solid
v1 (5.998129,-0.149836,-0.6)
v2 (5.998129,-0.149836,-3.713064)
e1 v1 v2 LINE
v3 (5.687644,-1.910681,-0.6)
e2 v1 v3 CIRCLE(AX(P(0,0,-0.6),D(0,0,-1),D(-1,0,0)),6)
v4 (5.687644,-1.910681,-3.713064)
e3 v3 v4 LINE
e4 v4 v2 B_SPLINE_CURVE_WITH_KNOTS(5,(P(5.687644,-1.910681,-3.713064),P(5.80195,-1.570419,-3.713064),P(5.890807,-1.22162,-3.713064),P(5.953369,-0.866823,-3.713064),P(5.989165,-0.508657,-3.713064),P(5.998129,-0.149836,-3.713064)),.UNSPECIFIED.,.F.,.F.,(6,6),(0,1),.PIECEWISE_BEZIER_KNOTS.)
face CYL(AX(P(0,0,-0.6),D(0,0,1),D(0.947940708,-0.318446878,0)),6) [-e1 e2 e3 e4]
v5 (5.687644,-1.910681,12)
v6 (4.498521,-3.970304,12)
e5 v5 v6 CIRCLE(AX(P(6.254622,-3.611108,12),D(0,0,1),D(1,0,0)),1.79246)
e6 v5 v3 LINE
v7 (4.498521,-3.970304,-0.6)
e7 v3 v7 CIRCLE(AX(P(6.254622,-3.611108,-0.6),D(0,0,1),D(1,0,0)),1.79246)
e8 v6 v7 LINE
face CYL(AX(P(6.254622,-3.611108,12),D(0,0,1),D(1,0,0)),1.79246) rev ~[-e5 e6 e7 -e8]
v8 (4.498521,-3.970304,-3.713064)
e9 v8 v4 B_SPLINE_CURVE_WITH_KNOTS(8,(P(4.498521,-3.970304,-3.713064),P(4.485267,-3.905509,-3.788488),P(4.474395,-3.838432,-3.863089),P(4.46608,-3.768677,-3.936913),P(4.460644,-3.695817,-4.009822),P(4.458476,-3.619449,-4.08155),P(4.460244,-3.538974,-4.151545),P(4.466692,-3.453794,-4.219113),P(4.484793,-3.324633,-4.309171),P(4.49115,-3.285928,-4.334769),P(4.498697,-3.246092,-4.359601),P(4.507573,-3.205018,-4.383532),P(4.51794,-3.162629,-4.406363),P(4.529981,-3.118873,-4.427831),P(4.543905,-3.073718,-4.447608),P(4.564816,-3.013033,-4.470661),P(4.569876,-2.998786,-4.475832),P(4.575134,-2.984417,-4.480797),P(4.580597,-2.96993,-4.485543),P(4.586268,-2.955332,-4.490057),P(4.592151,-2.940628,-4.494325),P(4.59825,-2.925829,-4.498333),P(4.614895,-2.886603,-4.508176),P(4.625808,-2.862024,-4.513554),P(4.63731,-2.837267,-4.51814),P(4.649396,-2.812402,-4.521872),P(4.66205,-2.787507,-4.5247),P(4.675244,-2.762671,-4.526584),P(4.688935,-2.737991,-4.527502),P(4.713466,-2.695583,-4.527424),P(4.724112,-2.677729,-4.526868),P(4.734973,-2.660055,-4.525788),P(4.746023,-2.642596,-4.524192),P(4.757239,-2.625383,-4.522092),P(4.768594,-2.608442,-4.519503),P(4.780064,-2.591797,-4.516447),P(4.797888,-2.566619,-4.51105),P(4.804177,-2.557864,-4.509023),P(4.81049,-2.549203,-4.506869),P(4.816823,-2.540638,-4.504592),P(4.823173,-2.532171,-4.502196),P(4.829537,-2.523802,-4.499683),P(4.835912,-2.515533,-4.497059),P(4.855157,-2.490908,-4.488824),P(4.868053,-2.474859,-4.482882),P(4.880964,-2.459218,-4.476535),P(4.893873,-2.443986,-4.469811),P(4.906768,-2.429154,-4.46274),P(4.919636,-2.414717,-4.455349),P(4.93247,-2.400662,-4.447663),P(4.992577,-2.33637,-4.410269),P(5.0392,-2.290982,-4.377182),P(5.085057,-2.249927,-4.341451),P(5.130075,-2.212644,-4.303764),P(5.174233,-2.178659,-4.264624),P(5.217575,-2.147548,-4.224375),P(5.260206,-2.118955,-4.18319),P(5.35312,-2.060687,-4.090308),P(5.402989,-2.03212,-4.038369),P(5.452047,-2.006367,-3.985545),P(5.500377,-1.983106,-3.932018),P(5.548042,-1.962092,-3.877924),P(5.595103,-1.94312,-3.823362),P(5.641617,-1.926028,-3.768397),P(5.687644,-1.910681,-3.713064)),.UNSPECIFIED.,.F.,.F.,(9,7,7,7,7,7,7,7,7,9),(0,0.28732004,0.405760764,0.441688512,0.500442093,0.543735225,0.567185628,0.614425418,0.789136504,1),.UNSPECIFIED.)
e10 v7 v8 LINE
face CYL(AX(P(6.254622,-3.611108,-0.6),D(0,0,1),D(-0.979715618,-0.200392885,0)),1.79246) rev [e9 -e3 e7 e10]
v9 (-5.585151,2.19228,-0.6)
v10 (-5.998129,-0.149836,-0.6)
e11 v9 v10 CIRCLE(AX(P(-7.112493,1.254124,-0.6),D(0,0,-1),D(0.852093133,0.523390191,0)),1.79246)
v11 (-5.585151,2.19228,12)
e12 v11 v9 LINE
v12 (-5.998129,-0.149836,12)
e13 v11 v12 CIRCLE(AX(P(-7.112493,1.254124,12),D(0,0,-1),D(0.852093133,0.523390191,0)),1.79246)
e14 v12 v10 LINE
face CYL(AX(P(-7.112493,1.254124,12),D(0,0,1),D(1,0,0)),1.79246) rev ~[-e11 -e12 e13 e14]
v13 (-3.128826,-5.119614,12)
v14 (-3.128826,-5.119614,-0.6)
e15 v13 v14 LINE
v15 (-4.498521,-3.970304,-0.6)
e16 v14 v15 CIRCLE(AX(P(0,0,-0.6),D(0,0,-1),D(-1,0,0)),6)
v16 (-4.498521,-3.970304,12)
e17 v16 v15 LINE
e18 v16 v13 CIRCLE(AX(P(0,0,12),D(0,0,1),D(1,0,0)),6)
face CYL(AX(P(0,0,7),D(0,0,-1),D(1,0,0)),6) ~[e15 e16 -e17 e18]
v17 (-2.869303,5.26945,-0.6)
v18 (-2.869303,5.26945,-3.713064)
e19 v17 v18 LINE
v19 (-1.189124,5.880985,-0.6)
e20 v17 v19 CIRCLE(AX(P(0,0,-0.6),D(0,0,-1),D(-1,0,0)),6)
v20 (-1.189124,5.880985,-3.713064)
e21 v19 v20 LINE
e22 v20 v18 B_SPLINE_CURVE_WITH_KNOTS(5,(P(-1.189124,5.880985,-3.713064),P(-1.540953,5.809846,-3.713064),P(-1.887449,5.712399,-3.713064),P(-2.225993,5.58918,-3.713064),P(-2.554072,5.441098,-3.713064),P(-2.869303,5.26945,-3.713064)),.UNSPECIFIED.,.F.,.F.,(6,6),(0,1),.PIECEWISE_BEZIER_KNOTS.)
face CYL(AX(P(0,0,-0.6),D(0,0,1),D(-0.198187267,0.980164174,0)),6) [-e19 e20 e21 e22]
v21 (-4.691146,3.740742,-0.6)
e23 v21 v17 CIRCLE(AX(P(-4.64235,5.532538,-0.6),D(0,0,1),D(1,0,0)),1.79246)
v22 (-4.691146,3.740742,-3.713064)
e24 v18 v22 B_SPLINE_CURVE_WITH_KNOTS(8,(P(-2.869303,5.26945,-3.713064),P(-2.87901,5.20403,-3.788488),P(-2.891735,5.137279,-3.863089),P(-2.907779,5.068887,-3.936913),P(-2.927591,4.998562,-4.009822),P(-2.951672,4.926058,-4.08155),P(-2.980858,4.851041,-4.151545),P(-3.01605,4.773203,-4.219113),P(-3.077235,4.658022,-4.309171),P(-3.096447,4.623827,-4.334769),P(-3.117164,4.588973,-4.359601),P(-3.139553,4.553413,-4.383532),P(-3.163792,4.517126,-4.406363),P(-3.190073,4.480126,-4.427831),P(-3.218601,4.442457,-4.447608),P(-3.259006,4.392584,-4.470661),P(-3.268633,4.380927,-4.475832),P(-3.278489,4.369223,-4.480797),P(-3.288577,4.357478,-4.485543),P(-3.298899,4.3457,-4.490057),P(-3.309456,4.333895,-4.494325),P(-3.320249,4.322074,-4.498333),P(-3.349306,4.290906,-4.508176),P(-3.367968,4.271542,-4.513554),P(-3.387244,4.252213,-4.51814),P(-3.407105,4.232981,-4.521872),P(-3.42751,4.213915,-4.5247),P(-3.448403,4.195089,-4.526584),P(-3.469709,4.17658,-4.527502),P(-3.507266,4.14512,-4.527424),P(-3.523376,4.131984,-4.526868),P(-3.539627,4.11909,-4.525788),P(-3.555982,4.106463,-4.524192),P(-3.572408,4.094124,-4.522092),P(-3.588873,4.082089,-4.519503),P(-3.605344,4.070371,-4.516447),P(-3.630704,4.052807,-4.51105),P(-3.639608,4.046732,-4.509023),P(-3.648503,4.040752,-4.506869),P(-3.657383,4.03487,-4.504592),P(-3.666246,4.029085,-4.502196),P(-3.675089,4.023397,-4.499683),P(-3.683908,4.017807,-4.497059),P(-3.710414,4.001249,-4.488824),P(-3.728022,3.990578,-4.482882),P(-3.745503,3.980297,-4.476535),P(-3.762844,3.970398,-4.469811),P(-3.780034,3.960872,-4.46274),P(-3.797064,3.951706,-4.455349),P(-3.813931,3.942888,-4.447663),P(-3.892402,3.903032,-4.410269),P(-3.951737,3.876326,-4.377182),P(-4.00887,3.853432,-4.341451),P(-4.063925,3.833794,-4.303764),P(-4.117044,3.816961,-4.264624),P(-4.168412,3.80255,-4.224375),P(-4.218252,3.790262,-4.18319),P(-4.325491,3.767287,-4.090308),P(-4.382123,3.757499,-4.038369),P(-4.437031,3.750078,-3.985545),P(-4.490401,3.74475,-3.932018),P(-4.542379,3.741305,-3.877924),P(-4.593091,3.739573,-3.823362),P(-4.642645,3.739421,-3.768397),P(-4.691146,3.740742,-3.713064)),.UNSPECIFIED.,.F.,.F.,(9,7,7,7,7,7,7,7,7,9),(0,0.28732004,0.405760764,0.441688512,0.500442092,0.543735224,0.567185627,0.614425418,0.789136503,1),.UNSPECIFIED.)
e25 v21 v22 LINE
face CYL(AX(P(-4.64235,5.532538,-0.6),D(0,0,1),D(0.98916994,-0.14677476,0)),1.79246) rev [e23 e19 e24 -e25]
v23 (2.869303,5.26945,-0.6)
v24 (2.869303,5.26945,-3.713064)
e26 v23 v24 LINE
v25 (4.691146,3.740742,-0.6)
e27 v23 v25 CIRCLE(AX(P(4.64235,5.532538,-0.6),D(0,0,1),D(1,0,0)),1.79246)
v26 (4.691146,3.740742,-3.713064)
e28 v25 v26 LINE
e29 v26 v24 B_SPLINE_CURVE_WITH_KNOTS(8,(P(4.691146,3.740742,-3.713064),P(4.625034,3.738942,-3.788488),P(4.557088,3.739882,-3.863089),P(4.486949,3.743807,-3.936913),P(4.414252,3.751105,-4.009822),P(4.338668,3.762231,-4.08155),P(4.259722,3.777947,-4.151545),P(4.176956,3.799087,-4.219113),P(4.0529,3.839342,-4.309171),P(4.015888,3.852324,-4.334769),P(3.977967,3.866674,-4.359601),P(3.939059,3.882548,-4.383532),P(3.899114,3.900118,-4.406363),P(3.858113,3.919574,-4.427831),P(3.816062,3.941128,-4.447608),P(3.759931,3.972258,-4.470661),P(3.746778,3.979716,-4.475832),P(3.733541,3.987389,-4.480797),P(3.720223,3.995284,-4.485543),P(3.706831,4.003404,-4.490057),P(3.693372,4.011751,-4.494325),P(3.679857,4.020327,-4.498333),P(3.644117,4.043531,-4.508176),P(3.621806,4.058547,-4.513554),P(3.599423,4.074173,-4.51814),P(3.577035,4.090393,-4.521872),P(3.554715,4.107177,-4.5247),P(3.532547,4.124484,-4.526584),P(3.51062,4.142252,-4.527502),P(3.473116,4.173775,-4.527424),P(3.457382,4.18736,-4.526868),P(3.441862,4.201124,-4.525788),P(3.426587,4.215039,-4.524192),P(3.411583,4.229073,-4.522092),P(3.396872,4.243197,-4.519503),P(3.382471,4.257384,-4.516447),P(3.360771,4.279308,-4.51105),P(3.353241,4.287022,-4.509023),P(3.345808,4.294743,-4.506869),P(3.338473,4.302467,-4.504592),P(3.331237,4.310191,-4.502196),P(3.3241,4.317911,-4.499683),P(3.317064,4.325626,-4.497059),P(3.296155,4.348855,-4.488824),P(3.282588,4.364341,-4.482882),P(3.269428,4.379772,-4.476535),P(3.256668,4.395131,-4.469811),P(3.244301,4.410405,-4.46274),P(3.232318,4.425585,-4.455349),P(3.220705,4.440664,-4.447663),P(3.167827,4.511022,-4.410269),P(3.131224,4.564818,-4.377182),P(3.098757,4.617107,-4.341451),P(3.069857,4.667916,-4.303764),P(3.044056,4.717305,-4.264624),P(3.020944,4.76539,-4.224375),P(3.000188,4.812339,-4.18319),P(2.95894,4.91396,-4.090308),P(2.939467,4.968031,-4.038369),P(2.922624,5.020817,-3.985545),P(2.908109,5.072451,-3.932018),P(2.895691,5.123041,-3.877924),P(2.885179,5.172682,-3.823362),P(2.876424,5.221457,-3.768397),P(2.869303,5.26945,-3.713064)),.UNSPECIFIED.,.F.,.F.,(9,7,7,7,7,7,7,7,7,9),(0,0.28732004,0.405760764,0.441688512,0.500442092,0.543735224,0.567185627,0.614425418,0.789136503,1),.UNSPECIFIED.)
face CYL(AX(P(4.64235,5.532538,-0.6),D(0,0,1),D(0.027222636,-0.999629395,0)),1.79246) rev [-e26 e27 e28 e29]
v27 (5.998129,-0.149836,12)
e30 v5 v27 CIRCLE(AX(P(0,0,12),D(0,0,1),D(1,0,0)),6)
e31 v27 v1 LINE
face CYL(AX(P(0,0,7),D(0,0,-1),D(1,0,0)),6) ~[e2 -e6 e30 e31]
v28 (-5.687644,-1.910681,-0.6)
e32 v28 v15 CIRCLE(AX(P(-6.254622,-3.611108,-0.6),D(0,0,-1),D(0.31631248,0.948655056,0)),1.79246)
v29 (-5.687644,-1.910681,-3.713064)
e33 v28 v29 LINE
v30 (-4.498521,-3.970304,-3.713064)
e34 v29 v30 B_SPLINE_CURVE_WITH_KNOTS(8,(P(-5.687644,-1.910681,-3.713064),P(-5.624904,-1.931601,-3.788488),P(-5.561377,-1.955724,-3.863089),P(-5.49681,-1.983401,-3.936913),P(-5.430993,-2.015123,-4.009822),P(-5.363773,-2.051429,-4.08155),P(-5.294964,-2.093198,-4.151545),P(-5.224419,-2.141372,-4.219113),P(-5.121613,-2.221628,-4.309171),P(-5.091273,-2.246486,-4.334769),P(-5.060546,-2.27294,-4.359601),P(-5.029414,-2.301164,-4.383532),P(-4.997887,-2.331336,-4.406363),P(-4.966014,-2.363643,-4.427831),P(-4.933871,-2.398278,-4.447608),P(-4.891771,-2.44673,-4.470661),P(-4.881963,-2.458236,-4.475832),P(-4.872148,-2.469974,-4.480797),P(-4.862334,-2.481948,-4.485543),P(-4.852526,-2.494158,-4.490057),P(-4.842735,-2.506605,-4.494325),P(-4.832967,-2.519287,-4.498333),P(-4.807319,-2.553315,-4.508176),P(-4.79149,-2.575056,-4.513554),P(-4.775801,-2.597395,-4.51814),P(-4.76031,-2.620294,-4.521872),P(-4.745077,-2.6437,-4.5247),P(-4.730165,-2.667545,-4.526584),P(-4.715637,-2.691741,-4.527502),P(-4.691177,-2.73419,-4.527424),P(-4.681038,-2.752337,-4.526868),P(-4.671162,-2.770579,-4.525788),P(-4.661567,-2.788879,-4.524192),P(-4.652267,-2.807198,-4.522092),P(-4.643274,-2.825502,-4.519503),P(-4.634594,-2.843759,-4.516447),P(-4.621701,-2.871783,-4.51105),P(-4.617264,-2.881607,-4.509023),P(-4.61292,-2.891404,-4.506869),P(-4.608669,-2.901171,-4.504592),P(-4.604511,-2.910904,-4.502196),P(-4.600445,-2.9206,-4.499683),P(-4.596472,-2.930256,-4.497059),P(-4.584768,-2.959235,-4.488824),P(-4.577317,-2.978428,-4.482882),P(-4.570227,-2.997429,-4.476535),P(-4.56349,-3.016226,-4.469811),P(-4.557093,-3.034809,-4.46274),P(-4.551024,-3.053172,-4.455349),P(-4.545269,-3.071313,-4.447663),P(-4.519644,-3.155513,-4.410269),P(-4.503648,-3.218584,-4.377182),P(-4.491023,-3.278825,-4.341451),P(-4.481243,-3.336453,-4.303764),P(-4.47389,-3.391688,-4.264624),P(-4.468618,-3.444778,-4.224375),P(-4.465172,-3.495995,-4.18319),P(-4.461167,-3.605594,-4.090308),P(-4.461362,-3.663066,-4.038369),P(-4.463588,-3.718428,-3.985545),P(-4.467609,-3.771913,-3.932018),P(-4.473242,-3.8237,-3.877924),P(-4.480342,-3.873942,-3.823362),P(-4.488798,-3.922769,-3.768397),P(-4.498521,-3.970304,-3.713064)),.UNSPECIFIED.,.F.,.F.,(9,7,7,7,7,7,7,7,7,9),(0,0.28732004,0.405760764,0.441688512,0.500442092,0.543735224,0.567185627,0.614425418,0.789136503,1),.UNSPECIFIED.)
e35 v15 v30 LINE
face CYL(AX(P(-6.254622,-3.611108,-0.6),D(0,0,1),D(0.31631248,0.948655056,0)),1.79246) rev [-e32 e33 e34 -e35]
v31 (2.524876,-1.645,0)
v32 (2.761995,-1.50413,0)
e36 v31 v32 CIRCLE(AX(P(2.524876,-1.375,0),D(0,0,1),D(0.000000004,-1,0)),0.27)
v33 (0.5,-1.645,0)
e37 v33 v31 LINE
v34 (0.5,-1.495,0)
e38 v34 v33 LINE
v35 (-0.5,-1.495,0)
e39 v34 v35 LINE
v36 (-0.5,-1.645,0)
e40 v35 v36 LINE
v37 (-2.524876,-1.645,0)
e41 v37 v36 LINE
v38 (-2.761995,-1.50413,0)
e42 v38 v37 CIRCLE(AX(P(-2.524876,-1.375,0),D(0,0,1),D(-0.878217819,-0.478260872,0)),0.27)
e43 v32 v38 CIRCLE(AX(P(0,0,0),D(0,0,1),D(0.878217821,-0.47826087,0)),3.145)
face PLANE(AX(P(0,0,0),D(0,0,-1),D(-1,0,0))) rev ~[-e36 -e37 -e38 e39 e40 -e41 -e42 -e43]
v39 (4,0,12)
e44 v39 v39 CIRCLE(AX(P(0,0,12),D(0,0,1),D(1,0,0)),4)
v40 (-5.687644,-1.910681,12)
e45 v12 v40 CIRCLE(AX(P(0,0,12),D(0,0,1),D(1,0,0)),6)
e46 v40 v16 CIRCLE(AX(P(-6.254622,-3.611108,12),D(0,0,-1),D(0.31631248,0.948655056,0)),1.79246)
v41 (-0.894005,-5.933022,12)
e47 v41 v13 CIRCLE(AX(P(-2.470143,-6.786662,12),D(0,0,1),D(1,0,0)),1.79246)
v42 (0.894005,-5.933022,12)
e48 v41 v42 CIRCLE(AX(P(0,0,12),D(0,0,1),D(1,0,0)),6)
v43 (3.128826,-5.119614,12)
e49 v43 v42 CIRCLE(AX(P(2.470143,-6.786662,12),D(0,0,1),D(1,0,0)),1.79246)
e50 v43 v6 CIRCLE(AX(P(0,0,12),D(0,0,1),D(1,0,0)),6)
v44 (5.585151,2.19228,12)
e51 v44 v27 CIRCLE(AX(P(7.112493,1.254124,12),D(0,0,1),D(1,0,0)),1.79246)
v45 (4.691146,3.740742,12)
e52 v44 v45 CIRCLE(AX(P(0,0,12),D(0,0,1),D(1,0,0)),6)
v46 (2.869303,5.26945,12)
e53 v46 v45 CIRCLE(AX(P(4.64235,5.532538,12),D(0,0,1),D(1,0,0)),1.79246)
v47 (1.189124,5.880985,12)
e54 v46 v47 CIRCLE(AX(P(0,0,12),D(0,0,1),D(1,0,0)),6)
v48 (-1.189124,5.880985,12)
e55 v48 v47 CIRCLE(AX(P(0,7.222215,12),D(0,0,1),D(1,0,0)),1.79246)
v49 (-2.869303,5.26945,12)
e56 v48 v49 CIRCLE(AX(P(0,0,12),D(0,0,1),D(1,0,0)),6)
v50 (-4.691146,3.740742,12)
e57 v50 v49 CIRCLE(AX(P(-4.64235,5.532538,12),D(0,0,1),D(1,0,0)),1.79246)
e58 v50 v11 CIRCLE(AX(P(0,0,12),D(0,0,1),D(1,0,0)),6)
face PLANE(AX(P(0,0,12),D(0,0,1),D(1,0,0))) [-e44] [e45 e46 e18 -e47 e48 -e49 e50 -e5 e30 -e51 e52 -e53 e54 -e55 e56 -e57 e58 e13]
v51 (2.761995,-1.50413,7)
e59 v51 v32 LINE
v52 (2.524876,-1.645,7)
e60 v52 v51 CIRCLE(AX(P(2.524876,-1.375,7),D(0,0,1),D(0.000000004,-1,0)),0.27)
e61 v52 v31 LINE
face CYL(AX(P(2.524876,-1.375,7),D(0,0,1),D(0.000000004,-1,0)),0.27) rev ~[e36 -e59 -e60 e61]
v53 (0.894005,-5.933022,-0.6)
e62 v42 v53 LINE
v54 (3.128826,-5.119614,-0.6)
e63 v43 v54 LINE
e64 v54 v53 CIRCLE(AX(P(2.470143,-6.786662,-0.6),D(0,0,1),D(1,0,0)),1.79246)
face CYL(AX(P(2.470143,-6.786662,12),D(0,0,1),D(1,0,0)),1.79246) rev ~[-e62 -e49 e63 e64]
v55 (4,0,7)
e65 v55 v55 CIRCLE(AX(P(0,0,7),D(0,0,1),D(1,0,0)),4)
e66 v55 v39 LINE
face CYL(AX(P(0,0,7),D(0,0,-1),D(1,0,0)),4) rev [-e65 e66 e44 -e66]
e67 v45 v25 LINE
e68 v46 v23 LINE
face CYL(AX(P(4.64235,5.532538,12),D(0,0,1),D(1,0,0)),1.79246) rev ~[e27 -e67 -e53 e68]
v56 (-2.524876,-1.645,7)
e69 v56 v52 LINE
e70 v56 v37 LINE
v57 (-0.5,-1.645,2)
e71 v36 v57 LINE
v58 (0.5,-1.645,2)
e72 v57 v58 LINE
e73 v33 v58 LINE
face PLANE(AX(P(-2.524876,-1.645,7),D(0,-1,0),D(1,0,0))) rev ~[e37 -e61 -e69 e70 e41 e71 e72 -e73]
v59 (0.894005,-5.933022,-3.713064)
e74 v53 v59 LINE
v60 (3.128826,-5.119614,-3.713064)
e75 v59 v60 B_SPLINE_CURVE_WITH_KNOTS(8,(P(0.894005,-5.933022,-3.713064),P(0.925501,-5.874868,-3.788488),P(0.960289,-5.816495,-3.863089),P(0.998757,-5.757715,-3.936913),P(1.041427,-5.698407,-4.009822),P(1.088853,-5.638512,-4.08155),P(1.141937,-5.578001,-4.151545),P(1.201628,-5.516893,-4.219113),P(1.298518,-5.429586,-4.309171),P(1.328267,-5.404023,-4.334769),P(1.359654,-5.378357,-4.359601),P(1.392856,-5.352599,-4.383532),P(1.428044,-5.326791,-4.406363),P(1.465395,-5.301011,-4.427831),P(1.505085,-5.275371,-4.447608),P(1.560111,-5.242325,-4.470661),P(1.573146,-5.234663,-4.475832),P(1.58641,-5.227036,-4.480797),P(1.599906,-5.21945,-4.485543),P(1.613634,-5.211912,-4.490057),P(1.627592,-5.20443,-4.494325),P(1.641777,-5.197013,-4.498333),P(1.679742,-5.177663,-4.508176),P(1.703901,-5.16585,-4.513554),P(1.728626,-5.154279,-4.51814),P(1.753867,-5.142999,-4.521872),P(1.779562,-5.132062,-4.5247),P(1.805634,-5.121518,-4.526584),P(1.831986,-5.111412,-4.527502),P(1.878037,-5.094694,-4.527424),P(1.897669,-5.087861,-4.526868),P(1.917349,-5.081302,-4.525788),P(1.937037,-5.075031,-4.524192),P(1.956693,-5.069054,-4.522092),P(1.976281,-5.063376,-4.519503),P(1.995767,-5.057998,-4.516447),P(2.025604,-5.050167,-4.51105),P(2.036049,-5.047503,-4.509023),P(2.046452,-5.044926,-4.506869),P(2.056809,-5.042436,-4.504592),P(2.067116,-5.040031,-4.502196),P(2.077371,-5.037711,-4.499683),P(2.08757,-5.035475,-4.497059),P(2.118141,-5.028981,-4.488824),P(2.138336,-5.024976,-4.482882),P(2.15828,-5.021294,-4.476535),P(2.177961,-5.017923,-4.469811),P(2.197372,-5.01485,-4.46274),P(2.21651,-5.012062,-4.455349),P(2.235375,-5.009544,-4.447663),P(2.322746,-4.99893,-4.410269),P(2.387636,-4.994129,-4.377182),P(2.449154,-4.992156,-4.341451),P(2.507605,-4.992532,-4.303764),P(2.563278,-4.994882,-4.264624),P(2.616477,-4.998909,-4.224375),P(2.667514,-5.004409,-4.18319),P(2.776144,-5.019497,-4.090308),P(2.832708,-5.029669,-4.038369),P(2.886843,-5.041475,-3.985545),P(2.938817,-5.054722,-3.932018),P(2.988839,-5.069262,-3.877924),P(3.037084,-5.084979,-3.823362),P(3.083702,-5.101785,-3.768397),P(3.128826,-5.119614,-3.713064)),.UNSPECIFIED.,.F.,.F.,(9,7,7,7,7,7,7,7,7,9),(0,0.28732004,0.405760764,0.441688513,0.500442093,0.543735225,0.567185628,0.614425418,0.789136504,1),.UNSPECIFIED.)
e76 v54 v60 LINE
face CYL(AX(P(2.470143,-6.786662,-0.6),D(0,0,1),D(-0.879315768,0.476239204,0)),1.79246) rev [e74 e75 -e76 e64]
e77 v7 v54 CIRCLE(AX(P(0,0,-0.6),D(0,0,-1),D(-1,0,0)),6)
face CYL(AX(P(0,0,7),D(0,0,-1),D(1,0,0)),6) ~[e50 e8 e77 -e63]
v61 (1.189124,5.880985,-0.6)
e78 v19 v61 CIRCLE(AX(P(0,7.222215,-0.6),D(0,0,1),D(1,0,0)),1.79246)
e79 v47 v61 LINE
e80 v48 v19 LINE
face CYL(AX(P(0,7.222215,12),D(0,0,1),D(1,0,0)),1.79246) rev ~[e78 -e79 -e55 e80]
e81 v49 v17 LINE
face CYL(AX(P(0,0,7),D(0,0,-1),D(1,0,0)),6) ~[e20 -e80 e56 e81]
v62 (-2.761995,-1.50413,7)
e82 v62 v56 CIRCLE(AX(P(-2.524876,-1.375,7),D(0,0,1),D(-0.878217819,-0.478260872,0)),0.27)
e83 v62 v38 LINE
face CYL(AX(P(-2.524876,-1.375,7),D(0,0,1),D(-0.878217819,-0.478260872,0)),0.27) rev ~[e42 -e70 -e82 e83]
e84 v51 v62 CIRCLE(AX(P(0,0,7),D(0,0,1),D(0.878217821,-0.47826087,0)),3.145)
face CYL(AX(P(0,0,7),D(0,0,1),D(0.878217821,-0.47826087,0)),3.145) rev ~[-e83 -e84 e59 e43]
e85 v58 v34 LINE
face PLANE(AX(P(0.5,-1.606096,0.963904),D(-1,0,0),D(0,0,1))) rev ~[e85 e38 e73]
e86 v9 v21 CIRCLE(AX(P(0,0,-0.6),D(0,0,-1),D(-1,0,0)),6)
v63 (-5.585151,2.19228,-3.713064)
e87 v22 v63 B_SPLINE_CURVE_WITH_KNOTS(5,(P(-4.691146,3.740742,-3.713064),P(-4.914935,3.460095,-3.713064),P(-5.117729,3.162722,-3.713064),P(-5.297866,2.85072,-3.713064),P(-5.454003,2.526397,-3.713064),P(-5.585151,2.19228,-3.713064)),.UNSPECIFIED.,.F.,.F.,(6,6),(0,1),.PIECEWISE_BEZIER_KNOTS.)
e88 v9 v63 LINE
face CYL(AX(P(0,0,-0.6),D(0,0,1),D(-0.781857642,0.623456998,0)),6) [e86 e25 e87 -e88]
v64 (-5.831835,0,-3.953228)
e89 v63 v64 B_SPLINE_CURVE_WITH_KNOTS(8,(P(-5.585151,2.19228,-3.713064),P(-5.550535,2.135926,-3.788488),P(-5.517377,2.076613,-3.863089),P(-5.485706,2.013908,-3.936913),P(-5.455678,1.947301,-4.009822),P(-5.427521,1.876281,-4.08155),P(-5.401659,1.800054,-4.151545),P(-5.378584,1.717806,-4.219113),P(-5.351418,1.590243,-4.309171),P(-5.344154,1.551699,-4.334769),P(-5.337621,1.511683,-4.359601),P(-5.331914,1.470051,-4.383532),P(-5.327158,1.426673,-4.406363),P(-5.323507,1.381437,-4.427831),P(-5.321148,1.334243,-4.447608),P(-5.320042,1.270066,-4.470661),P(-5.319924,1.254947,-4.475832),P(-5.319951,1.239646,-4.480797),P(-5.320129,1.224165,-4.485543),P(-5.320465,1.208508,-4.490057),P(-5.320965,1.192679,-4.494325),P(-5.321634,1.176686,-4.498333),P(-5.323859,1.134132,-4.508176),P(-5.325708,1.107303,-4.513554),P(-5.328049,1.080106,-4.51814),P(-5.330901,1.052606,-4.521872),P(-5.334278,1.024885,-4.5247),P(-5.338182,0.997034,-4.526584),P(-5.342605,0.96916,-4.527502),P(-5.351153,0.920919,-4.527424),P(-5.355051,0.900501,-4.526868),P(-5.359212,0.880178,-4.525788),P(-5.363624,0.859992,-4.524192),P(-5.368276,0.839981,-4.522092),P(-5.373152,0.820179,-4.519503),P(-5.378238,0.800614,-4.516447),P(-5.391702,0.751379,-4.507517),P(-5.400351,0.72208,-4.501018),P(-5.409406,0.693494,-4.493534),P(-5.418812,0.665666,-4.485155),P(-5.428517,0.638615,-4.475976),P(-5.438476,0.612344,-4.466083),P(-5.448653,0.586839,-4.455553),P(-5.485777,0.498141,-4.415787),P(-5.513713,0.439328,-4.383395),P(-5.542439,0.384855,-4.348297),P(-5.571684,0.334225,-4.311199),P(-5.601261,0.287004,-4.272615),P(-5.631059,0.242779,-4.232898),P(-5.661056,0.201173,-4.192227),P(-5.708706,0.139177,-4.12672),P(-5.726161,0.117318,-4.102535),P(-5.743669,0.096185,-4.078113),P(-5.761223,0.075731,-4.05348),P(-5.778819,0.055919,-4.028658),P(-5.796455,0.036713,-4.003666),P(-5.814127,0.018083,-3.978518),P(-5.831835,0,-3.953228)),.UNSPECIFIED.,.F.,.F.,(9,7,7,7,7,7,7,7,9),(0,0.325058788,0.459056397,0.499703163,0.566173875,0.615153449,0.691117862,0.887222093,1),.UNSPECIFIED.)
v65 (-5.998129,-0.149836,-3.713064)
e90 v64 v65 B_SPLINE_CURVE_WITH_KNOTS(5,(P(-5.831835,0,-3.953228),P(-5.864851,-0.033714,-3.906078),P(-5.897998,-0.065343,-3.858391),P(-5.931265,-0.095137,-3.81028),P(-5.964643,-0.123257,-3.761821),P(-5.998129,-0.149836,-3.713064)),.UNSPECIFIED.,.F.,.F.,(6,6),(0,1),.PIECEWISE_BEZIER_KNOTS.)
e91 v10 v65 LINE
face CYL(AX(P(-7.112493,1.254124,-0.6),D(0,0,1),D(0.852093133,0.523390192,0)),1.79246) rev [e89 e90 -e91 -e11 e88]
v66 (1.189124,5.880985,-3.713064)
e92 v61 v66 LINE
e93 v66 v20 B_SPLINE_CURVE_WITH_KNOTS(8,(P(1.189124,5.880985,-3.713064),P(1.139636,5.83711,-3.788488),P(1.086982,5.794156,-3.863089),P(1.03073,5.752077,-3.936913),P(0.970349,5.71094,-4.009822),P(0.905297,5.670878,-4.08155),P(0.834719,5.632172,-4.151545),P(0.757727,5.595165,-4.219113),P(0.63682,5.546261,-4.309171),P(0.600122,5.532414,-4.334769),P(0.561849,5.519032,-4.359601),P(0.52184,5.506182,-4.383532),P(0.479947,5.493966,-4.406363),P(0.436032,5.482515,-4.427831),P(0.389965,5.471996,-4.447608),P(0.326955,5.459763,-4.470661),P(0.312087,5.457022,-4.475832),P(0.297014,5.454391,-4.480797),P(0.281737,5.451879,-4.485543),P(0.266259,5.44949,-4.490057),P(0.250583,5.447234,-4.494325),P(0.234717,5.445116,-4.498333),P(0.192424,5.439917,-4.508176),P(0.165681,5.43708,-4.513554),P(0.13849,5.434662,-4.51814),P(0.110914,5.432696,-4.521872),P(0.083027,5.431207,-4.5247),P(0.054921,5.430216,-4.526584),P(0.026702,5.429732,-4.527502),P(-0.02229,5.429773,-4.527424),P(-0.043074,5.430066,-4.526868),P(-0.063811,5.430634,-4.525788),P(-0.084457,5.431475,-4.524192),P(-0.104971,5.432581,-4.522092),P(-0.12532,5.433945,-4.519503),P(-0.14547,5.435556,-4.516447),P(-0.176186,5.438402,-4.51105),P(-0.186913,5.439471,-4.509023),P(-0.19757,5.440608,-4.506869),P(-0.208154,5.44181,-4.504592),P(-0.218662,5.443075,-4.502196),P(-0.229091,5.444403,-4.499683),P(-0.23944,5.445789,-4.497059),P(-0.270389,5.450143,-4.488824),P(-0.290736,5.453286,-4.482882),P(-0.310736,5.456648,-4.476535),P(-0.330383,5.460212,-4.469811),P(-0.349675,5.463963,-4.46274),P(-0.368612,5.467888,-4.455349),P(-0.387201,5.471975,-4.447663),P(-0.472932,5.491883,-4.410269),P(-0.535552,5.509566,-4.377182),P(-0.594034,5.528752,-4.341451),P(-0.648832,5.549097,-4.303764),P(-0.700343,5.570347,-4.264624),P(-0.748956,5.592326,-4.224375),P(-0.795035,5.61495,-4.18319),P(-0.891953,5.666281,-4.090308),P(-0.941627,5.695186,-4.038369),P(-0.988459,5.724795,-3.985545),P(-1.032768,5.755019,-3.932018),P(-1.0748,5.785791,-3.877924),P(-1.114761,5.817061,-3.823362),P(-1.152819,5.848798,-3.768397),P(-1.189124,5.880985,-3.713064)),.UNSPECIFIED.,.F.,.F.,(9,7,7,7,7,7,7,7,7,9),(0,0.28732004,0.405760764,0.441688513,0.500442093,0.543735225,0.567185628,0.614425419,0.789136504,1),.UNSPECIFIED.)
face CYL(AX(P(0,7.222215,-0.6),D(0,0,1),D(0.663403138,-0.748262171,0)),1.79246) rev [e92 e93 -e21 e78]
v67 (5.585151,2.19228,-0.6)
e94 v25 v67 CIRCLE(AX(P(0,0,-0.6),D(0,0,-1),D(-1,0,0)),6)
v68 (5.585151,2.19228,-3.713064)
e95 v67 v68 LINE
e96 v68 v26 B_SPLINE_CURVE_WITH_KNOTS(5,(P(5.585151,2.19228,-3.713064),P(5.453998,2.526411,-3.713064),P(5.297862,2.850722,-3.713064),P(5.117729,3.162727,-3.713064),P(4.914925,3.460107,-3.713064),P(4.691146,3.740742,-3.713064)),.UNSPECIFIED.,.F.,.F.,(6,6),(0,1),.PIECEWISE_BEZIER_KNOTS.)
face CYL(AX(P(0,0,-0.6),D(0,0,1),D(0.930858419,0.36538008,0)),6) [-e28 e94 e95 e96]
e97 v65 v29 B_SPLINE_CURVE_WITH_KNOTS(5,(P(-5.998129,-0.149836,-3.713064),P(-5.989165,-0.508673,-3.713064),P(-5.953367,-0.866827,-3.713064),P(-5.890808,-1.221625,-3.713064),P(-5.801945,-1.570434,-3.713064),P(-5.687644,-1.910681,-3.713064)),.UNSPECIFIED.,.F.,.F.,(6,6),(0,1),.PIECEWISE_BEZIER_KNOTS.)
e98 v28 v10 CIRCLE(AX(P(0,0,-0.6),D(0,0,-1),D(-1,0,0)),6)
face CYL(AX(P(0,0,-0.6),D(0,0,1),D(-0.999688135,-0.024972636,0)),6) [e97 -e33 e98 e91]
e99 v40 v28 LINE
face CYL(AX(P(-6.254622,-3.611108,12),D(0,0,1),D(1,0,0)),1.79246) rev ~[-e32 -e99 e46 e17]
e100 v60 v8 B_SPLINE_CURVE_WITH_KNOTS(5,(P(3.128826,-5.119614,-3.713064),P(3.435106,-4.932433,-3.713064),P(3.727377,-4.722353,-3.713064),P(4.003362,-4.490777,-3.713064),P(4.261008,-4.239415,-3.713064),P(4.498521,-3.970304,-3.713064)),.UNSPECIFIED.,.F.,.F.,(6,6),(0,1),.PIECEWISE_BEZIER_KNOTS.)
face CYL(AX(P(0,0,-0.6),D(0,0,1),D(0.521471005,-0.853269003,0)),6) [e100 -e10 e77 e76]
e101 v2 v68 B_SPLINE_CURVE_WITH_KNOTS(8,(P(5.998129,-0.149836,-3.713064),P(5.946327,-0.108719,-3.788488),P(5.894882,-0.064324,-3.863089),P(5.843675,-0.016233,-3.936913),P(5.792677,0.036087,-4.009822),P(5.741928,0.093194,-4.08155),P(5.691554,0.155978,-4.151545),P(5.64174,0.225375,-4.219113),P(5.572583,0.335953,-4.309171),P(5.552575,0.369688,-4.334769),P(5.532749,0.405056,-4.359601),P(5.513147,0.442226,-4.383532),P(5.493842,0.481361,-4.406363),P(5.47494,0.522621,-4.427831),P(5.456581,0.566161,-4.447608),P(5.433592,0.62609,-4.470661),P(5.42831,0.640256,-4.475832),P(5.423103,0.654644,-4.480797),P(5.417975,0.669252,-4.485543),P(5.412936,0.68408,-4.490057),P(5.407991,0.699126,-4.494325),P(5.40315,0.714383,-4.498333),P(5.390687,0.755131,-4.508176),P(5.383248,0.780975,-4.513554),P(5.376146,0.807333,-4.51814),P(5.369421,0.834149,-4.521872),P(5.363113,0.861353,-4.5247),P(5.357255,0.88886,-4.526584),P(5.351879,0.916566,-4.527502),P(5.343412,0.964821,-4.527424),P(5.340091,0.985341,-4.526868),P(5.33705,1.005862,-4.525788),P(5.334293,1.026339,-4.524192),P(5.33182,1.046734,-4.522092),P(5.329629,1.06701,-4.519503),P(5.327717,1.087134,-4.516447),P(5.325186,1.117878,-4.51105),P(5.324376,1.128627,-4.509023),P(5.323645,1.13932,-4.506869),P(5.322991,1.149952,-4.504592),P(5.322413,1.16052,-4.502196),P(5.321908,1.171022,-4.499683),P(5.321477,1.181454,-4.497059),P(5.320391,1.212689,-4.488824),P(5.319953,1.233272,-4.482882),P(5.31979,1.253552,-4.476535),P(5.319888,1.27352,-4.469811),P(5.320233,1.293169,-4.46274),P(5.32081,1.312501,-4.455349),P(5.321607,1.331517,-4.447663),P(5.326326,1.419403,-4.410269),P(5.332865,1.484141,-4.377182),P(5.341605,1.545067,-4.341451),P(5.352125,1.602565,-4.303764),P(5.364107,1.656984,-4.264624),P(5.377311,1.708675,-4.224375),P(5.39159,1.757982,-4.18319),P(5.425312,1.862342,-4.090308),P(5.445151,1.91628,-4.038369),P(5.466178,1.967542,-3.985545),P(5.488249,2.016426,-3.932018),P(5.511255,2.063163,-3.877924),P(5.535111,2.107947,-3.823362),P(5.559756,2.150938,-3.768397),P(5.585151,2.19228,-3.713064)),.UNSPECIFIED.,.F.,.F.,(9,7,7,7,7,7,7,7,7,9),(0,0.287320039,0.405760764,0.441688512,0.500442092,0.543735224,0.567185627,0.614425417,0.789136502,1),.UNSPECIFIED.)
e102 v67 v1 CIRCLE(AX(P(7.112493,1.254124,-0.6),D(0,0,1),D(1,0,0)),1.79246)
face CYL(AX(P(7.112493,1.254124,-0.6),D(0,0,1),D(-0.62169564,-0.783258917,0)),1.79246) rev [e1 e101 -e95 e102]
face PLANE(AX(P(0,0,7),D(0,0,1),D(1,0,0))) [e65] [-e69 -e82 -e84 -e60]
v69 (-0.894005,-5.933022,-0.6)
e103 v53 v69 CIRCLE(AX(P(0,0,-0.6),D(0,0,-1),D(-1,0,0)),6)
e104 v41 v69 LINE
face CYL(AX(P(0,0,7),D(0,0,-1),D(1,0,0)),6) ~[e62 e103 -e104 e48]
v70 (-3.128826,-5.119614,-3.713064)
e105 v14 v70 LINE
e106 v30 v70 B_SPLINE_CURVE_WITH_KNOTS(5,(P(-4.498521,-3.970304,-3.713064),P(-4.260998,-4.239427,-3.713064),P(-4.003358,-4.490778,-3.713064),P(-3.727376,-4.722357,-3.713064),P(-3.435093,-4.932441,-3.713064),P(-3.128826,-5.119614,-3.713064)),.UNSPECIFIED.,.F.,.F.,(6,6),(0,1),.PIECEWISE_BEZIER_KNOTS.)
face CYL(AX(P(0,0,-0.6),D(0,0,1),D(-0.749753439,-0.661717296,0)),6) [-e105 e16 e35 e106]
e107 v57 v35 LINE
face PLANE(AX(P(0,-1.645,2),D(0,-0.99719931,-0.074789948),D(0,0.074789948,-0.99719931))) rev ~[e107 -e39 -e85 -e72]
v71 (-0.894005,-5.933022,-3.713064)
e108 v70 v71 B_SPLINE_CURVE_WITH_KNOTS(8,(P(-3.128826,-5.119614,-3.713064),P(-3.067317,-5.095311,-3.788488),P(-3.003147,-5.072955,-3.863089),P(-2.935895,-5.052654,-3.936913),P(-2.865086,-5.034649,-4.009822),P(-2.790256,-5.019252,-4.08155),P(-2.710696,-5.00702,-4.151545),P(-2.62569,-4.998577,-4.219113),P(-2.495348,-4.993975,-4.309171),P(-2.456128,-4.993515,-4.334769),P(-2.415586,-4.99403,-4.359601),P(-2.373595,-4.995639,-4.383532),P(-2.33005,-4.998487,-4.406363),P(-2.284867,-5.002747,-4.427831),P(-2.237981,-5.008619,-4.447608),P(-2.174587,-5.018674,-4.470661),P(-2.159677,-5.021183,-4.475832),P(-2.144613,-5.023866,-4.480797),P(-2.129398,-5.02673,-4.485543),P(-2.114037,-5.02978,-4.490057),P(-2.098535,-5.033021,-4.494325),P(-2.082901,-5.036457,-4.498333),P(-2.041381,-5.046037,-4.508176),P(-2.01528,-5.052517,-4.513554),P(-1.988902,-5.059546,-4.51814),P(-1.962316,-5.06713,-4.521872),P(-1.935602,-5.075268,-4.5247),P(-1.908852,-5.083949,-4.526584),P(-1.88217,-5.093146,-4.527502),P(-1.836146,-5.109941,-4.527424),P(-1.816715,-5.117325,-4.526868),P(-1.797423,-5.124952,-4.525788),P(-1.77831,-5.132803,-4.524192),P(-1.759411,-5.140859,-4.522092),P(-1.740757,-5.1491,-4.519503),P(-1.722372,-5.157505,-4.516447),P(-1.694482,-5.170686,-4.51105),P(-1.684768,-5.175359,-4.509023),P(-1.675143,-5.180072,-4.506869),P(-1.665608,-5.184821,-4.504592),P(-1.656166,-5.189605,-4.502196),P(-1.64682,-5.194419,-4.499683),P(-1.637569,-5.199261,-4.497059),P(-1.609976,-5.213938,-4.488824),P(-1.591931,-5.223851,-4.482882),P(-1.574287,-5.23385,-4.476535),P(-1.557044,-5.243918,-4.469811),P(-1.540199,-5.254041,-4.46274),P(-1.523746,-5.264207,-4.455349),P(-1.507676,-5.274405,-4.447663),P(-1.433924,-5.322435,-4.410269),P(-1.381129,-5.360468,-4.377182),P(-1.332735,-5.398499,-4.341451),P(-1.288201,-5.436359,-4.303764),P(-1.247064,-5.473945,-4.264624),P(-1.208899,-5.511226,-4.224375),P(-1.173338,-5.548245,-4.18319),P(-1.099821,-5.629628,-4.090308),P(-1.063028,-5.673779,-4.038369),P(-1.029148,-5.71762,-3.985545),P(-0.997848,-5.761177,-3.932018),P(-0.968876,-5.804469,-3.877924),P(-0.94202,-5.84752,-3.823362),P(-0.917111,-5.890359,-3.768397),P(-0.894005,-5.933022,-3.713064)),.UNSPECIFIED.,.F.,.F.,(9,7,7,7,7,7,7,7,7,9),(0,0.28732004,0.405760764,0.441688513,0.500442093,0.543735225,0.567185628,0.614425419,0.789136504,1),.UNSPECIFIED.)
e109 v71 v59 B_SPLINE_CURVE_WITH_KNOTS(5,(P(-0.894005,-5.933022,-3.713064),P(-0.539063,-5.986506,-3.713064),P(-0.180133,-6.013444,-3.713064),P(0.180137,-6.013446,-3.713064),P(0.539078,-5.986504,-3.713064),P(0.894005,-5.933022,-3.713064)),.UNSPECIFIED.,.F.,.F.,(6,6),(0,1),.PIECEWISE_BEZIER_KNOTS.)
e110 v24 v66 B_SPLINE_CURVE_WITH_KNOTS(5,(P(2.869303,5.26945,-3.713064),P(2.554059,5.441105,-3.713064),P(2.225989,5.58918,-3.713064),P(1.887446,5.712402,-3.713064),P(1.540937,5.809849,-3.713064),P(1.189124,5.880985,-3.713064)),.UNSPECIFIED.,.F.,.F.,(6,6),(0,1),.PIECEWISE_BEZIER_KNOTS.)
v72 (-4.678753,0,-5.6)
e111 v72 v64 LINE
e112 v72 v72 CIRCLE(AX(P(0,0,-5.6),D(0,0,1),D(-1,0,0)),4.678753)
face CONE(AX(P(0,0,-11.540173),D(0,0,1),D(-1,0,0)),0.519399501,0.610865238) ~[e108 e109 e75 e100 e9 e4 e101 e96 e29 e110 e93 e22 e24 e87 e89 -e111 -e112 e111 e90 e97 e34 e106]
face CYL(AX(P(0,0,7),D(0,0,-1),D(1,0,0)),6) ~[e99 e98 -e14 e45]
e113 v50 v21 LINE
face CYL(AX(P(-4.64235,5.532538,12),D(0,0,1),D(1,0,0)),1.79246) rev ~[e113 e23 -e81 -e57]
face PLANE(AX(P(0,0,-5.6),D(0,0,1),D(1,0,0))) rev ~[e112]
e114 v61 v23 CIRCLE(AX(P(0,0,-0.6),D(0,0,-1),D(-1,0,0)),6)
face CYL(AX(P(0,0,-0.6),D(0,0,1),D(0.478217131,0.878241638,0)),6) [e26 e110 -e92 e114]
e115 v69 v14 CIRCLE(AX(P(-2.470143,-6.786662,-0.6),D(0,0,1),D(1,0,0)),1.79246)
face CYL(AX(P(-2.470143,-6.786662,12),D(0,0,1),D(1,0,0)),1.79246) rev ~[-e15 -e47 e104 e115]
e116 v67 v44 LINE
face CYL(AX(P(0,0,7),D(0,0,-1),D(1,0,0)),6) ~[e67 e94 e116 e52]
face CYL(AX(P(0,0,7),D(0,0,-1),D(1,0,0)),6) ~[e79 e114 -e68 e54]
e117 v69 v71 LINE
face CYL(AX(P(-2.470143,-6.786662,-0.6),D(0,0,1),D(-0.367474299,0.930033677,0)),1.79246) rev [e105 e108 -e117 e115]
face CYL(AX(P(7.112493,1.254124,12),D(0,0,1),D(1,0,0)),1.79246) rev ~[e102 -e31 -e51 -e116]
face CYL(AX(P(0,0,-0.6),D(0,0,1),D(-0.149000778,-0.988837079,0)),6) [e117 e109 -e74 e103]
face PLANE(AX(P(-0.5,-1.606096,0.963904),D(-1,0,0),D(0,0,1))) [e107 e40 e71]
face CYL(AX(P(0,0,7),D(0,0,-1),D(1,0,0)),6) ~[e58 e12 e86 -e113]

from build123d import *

# Parameters (mm, degrees)
SKICA1_R                 = 6
P_IDAT_VYSUNUT_M1_DEPTH  = 7
SKICA5_R                 = 6
SKICA5_R_2               = 4
P_IDAT_VYSUNUT_M3_DEPTH  = 5
SKICA6_R                 = 6
P_IDAT_VYSUNUT_M4_DEPTH  = 0.6
SKICA7_R                 = 1.266795128
P_IDAT_VYSUNUT_M5_DEPTH  = 1
SKICA8_R                 = 1.792460028
ODEBRAT_VYSUNUT_M2_DEPTH = 21
ODEBRAT_VYSUNUT_M4_DEPTH = 7
P_IDAT_VYSUNUT_M6_DEPTH  = 0.5
P_IDAT_VYSUNUT_M7_DEPTH  = 5


with BuildPart() as part:
    # Skica1 → Přidat vysunutím1 (new body)
    with BuildSketch(Plane.XY):
        Circle(SKICA1_R)
        with BuildLine():
            Line((-2.524876235, -1.575), (2.524876235, -1.575))
            ThreePointArc((2.524876235, -1.575), (2.627027018, -1.546945391), (2.700519799, -1.470652174))
            ThreePointArc((2.700519799, -1.470652174), (0, 3.075), (-2.700519799, -1.470652174))
            ThreePointArc((-2.700519799, -1.470652174), (-2.627027018, -1.546945391), (-2.524876235, -1.575))
        make_face(mode=Mode.SUBTRACT)
    extrude(amount=P_IDAT_VYSUNUT_M1_DEPTH)

    # Skica5 → Přidat vysunutím3 (add)
    with BuildSketch(Plane.XY.offset(7)):
        Circle(SKICA5_R)
        Circle(SKICA5_R_2, mode=Mode.SUBTRACT)
    extrude(amount=P_IDAT_VYSUNUT_M3_DEPTH)

    # Skica6 → Přidat vysunutím4 (add)
    with BuildSketch(Plane(origin=(0, 0, 0), x_dir=(-1, 0, 0), z_dir=(0, 0, -1))):
        Circle(SKICA6_R)
    extrude(amount=P_IDAT_VYSUNUT_M4_DEPTH)

    # Skica7 → Přidat vysunutím5 (add)
    with BuildSketch(Plane.XY.offset(5)):
        with Locations((0, -2.741795128)):
            Circle(SKICA7_R)
    extrude(amount=-P_IDAT_VYSUNUT_M5_DEPTH)

    # Skica8 → Odebrat vysunutím2 (cut)
    with BuildSketch(Plane.XY.offset(12)):
        with Locations((0, 7.222215072)):
            Circle(SKICA8_R)
        with Locations((4.642350363, 5.532537723)):
            Circle(SKICA8_R)
        with Locations((7.112493397, 1.254124486)):
            Circle(SKICA8_R)
        with Locations((6.254621724, -3.611107536)):
            Circle(SKICA8_R)
        with Locations((2.470143034, -6.786662209)):
            Circle(SKICA8_R)
        with Locations((-2.470143034, -6.786662209)):
            Circle(SKICA8_R)
        with Locations((-6.254621724, -3.611107536)):
            Circle(SKICA8_R)
        with Locations((-7.112493397, 1.254124486)):
            Circle(SKICA8_R)
        with Locations((-4.642350363, 5.532537723)):
            Circle(SKICA8_R)
    extrude(amount=-ODEBRAT_VYSUNUT_M2_DEPTH, mode=Mode.SUBTRACT)

    # Skica11 → Odebrat vysunutím4 (cut)
    with BuildSketch(Plane.XY.offset(7)):
        with BuildLine():
            Line((-2.524876235, -1.645), (2.524876235, -1.645))
            ThreePointArc((2.524876235, -1.645), (2.662779793, -1.607126277), (2.761995046, -1.504130435))
            ThreePointArc((2.761995046, -1.504130435), (0, 3.145), (-2.761995046, -1.504130435))
            ThreePointArc((-2.761995046, -1.504130435), (-2.662779793, -1.607126277), (-2.524876235, -1.645))
        make_face()
    extrude(amount=-ODEBRAT_VYSUNUT_M4_DEPTH, mode=Mode.SUBTRACT)

    # Skica12 → Přidat vysunutím6 (add, symmetric)
    with BuildSketch(Plane(origin=(0, 0, 0), x_dir=(0, 0, -1), z_dir=(1, 0, 0))):
        Polygon((-2, -1.645), (0, -1.495), (0, -1.645), align=None)
    extrude(amount=P_IDAT_VYSUNUT_M6_DEPTH, both=True)

    # Skica13 → Přidat vysunutím7 (add)
    with BuildSketch(Plane(origin=(0, 0, -0.6), x_dir=(-1, 0, 0), z_dir=(0, 0, -1))):
        with BuildLine():
            ThreePointArc((2.869302785, 5.269449832), (3.490179266, 4.159433679), (4.691145849, 3.740741989))
            ThreePointArc((4.691145849, 3.740741989), (5.196152423, 3), (5.585150516, 2.192280483))
            ThreePointArc((5.585150516, 2.192280483), (5.347264864, 0.942867069), (5.998128811, -0.149835813))
            ThreePointArc((5.998128811, -0.149835813), (5.908846518, -1.041889066), (5.687644248, -1.910681268))
            ThreePointArc((5.687644248, -1.910681268), (4.702305805, -2.714877522), (4.498520641, -3.970303773))
            ThreePointArc((4.498520641, -3.970303773), (3.856725658, -4.596266659), (3.128826026, -5.119614019))
            ThreePointArc((3.128826026, -5.119614019), (1.857085598, -5.102300748), (0.894004667, -5.933022472))
            ThreePointArc((0.894004667, -5.933022472), (0, -6), (-0.894004667, -5.933022472))
            ThreePointArc((-0.894004667, -5.933022472), (-1.857085598, -5.102300748), (-3.128826026, -5.119614019))
            ThreePointArc((-3.128826026, -5.119614019), (-3.856725658, -4.596266659), (-4.498520641, -3.970303773))
            ThreePointArc((-4.498520641, -3.970303773), (-4.702305805, -2.714877522), (-5.687644248, -1.910681268))
            ThreePointArc((-5.687644248, -1.910681268), (-5.908846518, -1.041889066), (-5.998128811, -0.149835813))
            ThreePointArc((-5.998128811, -0.149835813), (-5.347264864, 0.942867069), (-5.585150516, 2.192280483))
            ThreePointArc((-5.585150516, 2.192280483), (-5.196152423, 3), (-4.691145849, 3.740741989))
            ThreePointArc((-4.691145849, 3.740741989), (-3.490179266, 4.159433679), (-2.869302785, 5.269449832))
            ThreePointArc((-2.869302785, 5.269449832), (-2.05212086, 5.638155725), (-1.189123608, 5.88098504))
            ThreePointArc((-1.189123608, 5.88098504), (0, 5.429755044), (1.189123608, 5.88098504))
            ThreePointArc((1.189123608, 5.88098504), (2.05212086, 5.638155725), (2.869302785, 5.269449832))
        make_face()
    extrude(amount=P_IDAT_VYSUNUT_M7_DEPTH)

    # Skica14 → Odebrat rotací1 (revolve, cut)
    with BuildSketch(Plane(origin=(0, 0, 0), x_dir=(1, 0, 0), z_dir=(0, 1, 0))):
        Polygon((-0.519399501, 11.540173112), (-8.873937642, -0.391343881), (-8.306128357, 8.726101498), align=None)
    revolve(axis=Axis((0, 0, 0), (0, 0, -1)), mode=Mode.SUBTRACT)


solid = part.part
